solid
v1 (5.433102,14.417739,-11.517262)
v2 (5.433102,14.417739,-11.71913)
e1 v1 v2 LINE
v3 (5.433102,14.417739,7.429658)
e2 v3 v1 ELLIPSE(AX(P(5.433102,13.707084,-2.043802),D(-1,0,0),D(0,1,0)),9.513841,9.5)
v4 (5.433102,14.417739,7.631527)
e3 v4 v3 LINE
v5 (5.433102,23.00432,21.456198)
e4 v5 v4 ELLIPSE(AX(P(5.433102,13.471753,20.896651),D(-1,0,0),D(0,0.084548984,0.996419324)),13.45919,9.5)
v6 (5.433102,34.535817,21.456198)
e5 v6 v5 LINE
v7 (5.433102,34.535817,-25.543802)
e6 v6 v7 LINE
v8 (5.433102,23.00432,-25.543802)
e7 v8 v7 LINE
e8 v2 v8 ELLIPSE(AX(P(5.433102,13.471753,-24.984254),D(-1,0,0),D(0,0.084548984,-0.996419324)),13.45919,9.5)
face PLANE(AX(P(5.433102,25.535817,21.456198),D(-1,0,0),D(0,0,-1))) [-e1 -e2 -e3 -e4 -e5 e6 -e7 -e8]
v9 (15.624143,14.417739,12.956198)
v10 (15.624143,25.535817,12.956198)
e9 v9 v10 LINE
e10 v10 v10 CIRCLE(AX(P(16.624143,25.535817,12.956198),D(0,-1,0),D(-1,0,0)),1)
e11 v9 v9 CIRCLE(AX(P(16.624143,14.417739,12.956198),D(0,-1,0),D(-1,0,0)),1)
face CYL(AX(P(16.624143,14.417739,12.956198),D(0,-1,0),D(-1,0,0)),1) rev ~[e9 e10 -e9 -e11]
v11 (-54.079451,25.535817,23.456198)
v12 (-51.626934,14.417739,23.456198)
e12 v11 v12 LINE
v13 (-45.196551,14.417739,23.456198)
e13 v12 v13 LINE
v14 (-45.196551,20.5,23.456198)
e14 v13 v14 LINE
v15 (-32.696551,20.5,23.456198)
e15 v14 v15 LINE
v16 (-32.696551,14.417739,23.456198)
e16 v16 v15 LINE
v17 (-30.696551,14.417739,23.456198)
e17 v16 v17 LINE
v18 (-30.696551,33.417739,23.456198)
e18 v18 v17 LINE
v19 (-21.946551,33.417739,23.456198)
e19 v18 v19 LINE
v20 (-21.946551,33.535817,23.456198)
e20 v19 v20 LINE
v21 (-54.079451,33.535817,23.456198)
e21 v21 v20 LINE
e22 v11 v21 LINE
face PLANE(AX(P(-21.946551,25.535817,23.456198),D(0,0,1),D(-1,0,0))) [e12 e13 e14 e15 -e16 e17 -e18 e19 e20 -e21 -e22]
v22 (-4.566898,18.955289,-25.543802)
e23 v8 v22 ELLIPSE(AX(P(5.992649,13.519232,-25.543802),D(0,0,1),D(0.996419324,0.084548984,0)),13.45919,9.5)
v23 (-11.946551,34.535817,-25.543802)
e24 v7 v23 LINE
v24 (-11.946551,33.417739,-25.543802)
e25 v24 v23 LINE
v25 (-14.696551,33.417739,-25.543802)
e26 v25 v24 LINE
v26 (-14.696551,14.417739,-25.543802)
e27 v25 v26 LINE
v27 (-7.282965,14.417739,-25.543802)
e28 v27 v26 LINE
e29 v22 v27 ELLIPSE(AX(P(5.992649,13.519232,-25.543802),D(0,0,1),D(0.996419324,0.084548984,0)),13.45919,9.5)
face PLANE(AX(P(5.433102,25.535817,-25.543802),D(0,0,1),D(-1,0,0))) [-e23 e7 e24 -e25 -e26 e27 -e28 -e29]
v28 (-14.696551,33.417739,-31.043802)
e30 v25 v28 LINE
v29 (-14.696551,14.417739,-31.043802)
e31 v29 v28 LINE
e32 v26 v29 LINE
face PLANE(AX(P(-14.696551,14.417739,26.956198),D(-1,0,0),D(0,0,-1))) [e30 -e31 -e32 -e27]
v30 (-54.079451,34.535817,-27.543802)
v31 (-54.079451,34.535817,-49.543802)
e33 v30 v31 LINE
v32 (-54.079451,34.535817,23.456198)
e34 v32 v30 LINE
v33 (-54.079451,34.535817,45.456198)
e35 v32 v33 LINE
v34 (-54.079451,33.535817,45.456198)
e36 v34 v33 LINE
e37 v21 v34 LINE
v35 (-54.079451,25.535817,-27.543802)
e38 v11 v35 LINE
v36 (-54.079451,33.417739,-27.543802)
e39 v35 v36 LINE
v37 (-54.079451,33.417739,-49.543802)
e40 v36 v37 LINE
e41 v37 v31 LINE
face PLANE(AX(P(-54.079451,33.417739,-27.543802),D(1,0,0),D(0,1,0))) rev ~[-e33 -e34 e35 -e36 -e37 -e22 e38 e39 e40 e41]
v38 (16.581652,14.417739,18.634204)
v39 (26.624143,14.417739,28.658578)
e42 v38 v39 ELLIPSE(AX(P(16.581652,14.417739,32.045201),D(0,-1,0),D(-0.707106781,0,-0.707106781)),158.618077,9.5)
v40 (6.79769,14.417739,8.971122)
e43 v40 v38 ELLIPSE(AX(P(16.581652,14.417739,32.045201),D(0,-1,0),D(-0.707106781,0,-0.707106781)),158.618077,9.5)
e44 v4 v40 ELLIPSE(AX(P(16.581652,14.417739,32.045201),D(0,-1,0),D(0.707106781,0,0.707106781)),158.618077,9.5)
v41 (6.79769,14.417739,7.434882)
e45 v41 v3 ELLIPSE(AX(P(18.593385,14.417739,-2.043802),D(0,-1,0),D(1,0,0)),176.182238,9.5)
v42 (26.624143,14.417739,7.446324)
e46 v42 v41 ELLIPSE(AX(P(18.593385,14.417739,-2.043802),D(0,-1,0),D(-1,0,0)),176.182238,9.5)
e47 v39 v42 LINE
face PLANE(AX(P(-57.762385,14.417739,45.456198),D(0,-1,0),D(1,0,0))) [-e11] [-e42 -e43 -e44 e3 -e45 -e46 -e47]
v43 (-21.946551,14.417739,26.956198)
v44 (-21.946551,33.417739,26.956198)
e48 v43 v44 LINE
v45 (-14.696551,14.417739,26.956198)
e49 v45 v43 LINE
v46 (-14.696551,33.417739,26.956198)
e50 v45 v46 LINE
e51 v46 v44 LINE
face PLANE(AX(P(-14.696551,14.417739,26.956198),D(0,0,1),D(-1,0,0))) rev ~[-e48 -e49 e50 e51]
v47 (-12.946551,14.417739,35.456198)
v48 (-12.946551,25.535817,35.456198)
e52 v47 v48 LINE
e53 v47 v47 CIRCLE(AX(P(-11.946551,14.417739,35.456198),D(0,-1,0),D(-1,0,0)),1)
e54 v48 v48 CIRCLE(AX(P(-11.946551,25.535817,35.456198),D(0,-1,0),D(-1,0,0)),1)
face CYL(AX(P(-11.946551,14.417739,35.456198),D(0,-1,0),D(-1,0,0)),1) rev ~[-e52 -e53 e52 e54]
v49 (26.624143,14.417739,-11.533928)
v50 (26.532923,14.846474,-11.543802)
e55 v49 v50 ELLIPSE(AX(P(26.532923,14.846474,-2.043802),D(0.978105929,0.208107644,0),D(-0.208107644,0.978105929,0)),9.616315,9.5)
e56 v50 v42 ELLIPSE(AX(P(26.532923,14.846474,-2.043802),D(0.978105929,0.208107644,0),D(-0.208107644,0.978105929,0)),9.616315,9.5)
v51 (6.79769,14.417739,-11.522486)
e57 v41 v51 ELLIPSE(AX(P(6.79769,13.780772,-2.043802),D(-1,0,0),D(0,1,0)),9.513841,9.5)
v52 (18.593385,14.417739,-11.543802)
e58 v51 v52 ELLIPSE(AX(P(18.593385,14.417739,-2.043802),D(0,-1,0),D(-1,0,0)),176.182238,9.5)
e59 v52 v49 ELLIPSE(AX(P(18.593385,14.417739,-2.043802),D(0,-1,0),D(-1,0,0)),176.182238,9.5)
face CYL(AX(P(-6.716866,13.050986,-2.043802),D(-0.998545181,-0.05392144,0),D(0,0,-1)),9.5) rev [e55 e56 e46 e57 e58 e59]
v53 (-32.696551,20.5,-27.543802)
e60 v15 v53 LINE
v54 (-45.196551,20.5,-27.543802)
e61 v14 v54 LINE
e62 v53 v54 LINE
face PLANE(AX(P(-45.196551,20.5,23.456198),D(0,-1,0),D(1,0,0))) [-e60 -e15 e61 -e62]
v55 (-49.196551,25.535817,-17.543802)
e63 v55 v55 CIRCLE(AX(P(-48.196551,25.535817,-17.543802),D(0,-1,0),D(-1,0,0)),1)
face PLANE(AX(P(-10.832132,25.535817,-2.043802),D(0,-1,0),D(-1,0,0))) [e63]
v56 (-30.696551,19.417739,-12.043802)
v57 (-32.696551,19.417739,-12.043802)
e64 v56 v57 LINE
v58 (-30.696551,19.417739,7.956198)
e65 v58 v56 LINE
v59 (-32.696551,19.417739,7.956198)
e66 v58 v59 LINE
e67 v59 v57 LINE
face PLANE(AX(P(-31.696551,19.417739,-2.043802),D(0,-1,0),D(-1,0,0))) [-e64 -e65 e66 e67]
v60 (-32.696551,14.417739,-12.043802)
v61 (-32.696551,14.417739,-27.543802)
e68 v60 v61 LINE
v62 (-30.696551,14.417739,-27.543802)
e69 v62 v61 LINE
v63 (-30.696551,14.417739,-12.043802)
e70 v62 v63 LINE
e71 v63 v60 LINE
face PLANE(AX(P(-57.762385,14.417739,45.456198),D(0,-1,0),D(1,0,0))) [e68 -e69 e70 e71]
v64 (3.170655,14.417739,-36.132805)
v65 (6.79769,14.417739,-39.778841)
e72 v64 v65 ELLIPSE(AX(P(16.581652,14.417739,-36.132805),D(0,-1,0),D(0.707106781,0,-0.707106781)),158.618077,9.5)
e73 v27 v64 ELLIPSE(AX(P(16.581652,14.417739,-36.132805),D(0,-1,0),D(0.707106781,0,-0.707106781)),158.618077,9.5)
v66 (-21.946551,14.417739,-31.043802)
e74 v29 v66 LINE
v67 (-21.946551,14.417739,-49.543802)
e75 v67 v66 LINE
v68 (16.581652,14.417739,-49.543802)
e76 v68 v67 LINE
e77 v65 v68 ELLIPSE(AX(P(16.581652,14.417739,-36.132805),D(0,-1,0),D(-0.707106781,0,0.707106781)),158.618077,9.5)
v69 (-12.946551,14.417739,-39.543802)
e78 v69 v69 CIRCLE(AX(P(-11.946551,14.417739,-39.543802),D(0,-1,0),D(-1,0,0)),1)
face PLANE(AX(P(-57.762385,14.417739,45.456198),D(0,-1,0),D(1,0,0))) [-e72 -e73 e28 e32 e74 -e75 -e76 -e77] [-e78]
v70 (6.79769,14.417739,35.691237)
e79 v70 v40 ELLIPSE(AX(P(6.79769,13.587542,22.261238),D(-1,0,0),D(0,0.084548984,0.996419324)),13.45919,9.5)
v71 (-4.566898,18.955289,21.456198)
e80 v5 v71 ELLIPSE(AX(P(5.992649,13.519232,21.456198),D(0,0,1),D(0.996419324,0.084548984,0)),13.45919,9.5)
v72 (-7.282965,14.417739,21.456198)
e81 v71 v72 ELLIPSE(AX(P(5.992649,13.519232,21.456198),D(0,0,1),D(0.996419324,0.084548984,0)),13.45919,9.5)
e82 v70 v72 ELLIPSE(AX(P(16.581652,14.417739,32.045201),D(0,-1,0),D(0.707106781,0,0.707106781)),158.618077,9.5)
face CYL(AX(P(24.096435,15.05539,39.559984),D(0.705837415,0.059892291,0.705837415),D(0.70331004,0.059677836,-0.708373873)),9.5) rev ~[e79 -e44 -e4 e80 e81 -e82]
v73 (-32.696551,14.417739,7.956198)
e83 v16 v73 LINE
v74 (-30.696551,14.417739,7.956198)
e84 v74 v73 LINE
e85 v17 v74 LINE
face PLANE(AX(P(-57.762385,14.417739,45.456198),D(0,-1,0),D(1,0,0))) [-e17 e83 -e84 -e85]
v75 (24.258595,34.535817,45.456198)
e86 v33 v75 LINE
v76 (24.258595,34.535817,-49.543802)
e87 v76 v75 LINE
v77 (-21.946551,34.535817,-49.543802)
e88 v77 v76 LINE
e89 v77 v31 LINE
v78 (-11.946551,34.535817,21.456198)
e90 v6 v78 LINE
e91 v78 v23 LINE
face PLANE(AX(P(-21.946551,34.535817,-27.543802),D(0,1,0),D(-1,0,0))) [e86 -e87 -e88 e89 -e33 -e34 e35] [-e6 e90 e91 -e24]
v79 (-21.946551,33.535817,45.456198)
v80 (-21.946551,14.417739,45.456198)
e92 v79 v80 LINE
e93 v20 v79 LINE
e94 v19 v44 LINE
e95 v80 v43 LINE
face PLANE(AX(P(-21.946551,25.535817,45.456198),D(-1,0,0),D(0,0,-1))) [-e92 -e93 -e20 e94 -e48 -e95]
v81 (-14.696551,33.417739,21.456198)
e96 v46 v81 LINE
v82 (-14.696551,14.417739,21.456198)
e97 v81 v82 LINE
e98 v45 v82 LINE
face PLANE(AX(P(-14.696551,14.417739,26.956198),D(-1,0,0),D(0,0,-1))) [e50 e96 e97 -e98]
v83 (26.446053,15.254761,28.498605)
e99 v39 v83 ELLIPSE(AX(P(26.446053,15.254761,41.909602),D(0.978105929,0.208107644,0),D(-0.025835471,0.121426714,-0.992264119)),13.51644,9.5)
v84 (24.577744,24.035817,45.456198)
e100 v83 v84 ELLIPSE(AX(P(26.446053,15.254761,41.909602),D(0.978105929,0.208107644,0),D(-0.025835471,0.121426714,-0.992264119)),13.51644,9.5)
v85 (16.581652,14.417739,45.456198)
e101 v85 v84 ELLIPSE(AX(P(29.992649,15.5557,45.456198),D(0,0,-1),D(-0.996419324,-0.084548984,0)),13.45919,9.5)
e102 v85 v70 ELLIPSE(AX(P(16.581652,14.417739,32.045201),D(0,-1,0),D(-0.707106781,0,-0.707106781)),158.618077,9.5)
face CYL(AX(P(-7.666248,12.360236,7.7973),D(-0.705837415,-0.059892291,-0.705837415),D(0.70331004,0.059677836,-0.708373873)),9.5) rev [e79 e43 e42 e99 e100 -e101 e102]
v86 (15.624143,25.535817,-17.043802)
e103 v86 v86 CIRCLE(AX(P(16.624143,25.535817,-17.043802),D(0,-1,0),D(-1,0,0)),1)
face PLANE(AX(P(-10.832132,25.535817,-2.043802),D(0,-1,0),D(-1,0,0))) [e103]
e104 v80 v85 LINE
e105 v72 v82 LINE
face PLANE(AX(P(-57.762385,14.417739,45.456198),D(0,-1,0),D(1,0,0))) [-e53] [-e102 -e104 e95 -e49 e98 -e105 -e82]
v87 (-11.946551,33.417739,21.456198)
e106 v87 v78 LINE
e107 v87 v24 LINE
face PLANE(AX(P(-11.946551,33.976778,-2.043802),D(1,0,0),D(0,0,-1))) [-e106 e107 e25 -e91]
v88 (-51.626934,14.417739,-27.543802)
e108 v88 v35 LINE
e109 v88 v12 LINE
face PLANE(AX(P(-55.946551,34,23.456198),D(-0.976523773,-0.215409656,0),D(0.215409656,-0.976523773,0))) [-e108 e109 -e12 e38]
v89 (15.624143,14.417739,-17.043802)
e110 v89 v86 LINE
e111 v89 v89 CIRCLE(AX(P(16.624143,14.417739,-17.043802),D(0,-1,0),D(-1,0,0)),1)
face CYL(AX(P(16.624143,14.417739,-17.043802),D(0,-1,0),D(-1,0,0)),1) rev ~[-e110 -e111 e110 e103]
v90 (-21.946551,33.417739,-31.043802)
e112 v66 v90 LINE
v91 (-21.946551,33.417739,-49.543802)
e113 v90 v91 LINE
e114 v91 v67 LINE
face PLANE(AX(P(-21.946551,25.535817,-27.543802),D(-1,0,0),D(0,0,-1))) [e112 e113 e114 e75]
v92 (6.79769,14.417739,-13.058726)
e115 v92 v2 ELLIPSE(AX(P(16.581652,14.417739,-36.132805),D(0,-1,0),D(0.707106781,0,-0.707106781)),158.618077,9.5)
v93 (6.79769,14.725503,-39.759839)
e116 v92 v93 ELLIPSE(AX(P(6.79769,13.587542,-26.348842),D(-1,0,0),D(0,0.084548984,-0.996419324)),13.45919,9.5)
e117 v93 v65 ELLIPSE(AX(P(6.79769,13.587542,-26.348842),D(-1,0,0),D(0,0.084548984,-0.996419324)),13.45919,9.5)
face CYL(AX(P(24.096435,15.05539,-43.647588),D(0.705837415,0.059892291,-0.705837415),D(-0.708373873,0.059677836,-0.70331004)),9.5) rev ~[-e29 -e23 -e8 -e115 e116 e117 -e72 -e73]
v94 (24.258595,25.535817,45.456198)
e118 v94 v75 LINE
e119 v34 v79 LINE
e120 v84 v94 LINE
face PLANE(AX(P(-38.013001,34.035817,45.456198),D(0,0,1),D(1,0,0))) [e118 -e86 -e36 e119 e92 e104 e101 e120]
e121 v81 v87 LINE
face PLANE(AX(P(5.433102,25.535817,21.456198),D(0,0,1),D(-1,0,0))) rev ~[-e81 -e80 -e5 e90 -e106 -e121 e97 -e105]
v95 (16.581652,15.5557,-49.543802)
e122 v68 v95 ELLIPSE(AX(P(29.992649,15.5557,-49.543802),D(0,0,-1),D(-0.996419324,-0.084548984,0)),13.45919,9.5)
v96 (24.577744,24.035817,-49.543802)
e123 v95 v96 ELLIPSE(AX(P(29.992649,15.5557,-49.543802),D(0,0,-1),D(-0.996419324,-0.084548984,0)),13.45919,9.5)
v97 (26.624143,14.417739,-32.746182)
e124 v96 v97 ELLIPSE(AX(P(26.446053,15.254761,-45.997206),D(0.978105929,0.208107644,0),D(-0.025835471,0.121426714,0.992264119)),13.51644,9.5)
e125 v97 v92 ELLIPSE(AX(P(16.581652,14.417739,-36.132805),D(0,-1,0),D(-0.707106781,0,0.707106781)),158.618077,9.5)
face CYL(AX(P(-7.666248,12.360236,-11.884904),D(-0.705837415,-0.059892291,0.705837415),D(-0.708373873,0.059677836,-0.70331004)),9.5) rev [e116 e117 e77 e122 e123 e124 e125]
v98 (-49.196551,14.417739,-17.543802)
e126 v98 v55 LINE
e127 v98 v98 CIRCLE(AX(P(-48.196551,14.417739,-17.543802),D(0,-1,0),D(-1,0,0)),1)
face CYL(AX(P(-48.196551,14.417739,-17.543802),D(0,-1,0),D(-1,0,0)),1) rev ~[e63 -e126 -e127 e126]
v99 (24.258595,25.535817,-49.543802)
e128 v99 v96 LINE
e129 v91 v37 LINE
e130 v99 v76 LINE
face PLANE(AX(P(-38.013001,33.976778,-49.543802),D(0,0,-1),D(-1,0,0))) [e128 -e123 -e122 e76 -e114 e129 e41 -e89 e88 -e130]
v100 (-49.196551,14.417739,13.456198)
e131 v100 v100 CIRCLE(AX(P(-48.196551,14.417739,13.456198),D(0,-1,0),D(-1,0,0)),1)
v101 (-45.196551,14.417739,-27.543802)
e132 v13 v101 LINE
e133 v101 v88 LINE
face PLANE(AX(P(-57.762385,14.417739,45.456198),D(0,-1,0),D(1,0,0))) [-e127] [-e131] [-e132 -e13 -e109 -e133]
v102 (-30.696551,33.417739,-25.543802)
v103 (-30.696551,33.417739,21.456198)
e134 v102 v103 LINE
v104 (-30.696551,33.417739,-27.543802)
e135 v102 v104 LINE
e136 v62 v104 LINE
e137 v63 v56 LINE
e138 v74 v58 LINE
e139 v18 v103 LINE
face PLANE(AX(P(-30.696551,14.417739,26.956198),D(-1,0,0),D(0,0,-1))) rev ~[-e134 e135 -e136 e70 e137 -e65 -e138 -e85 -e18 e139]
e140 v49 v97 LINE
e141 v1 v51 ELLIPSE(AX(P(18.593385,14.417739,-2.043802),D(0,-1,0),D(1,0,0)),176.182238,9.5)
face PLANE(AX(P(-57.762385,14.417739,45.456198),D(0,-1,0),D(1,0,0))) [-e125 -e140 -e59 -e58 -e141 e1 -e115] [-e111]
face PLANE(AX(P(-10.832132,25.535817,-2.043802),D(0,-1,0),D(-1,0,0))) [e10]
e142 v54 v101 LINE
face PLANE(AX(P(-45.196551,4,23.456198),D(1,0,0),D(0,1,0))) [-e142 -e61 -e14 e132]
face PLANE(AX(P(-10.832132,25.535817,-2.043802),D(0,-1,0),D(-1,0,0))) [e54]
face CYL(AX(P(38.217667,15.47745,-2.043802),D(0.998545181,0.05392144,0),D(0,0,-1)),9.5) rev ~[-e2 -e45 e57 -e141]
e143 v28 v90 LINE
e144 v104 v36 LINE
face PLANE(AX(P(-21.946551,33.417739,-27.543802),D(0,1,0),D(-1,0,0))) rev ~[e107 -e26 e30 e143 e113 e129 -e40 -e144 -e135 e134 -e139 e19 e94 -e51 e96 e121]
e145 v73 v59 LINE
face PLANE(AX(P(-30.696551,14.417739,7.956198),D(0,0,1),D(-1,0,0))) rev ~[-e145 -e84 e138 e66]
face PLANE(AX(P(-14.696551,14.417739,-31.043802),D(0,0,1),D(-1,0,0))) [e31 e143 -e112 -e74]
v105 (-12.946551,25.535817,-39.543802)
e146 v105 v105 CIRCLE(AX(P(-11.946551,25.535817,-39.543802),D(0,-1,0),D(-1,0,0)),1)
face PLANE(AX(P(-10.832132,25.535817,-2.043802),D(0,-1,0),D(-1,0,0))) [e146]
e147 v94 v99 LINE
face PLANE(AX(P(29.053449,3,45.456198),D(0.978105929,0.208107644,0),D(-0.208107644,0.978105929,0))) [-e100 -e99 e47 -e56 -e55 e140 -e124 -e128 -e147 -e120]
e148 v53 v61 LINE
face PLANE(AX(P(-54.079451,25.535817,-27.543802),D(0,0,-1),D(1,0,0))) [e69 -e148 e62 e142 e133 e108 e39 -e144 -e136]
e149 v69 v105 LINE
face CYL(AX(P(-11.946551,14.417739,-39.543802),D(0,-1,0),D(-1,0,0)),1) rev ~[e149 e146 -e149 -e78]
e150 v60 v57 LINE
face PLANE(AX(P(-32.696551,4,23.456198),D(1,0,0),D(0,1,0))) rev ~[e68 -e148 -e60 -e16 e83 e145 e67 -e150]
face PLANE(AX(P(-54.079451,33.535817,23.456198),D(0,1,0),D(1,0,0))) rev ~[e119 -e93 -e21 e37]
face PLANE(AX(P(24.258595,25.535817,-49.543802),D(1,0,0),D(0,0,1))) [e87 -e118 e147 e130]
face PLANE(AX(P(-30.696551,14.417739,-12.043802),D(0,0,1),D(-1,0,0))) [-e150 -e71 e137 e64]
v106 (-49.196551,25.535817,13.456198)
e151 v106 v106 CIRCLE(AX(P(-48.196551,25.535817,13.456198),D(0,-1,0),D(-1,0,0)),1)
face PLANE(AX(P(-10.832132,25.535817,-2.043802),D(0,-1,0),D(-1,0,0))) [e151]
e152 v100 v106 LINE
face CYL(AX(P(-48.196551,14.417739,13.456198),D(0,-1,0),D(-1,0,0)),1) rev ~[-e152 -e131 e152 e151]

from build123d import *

# Parameters (mm, degrees)
SKETCH1_W           = 95
SKETCH1_H           = 95
BOSS_EXTRUDE1_DEPTH = 50
CUT_EXTRUDE1_DEPTH  = 100
SKETCH3_R           = 9.5
CUT_EXTRUDE2_DEPTH  = 45
CUT_EXTRUDE4_DEPTH  = 45
CUT_EXTRUDE5_DEPTH  = 45
CUT_EXTRUDE6_DEPTH  = 45
CUT_EXTRUDE7_DEPTH  = 45
SKETCH9_R           = 9.5
CUT_EXTRUDE9_DEPTH  = 45
SKETCH11_R          = 9.5
CUT_EXTRUDE10_DEPTH = 45
SKETCH12_W          = 31.985759797
SKETCH12_H          = 95
BOSS_EXTRUDE2_DEPTH = 45
CUT_EXTRUDE11_DEPTH = 100
SKETCH14_R          = 9.5
CUT_EXTRUDE12_DEPTH = 100
SKETCH15_R          = 9.5
CUT_EXTRUDE13_DEPTH = 100
SKETCH16_R          = 9.5
CUT_EXTRUDE14_DEPTH = 100
FILLET2_R           = 4
SKETCH17_W          = 34
SKETCH17_H          = 34
CUT_EXTRUDE16_DEPTH = 22
SKETCH19_W          = 34
SKETCH19_H          = 34
CUT_EXTRUDE17_DEPTH = 22
SKETCH20_W          = 12.5
SKETCH20_H          = 16.5
CUT_EXTRUDE18_DEPTH = 60
CUT_EXTRUDE19_DEPTH = 60
SKETCH22_W          = 99.816433395
SKETCH22_H          = 26.367590903
CUT_EXTRUDE21_DEPTH = 100
SKETCH23_R          = 1
CUT_EXTRUDE24_DEPTH = 909
SKETCH25_R          = 1
CUT_EXTRUDE25_DEPTH = 789
SKETCH27_W          = 26.129652456
SKETCH27_H          = 47
CUT_EXTRUDE27_DEPTH = 9
SKETCH28_W          = 2
SKETCH28_H          = 20
CUT_EXTRUDE28_DEPTH = 5
SKETCH29_W          = 99.017305209
SKETCH29_H          = 17.897343585
CUT_EXTRUDE29_DEPTH = 447
CUT_EXTRUDE30_DEPTH = 447
SKETCH31_W          = 26.129652456
SKETCH31_H          = 47
CUT_EXTRUDE31_DEPTH = 447
SKETCH32_W          = 12.716067022
SKETCH32_H          = 47
CUT_EXTRUDE32_DEPTH = 90
BOSS_EXTRUDE4_DEPTH = 9
SKETCH37_W          = 36.129652456
SKETCH37_H          = 47
CUT_EXTRUDE34_DEPTH = 9
SKETCH38_W          = 16
SKETCH38_H          = 58
CUT_EXTRUDE36_DEPTH = 19
SKETCH40_W          = 8.75
SKETCH40_H          = 1.118077743
BOSS_EXTRUDE5_DEPTH = 48
SKETCH41_W          = 47
SKETCH41_H          = 1.118077743
BOSS_EXTRUDE6_DEPTH = 10
SKETCH42_W          = 32.132900769
SKETCH42_H          = 1
BOSS_EXTRUDE7_DEPTH = 22
SKETCH43_W          = 32.132900769
SKETCH43_H          = 1.118077743
BOSS_EXTRUDE8_DEPTH = 22


with BuildPart() as part:
    # Sketch1 → Boss-Extrude1 (new body)
    with BuildSketch(Plane(origin=(0, 0, 0), x_dir=(1, 0, 0), z_dir=(0, 1, 0))):
        with Locations((-8.446550514, 2.043801884)):
            Rectangle(SKETCH1_W, SKETCH1_H)
    extrude(amount=BOSS_EXTRUDE1_DEPTH)

    # Sketch2 → Cut-Extrude1 (cut)
    with BuildSketch(Plane.XY.offset(45.456198116)):
        Polygon((39.053449486, 0), (36.353449486, 50), (39.053449486, 50), align=None)
    extrude(amount=-CUT_EXTRUDE1_DEPTH, mode=Mode.SUBTRACT)

    # Sketch3 → Cut-Extrude2 (cut)
    with BuildSketch(Plane(origin=(38.939900735, 2.10275464, 0), x_dir=(0, 0, -1), z_dir=(0.998545181, 0.05392144, 0))):
        with Locations((2.043801884, 13.394181776)):
            Circle(SKETCH3_R)
    extrude(amount=-CUT_EXTRUDE2_DEPTH, mode=Mode.SUBTRACT)

    # Sketch5 → Cut-Extrude4 (cut)
    with BuildSketch(Plane(origin=(0, 50, 0), x_dir=(1, 0, 0), z_dir=(0, 1, 0))):
        Polygon((39.053449486, 49.543801884), (39.053449486, 29.543801884), (19.053449486, 49.543801884), align=None)
        Polygon((39.053449486, -45.456198116), (39.053449486, -25.456198116), (19.053449486, -45.456198116), align=None)
    extrude(amount=-CUT_EXTRUDE4_DEPTH, mode=Mode.SUBTRACT)

    # Sketch6 → Cut-Extrude5 (cut)
    with BuildSketch(Plane(origin=(0, 50, 0), x_dir=(1, 0, 0), z_dir=(0, 1, 0))):
        Polygon((19.053449486, -45.456198116), (12.925569587, -39.328318218), (6.797689689, -45.456198116), align=None)
        Polygon((19.053449486, 49.543801884), (12.925569587, 43.415921985), (6.797689689, 49.543801884), align=None)
    extrude(amount=-CUT_EXTRUDE5_DEPTH, mode=Mode.SUBTRACT)

    # Sketch7 → Cut-Extrude6 (cut)
    with BuildSketch(Plane(origin=(-13.201374315, 0, 13.201374315), x_dir=(0.707106781, 0, 0.707106781), z_dir=(-0.707106781, 0, 0.707106781))):
        Polygon((45.615209271, 5), (42.915209271, 50), (45.615209271, 50), align=None)
    extrude(amount=-CUT_EXTRUDE6_DEPTH, mode=Mode.SUBTRACT)

    # Sketch8 → Cut-Extrude7 (cut)
    with BuildSketch(Plane(origin=(-15.245176199, 0, -15.245176199), x_dir=(-0.707106781, 0, 0.707106781), z_dir=(-0.707106781, 0, -0.707106781))):
        Polygon((-48.505581614, 5), (-45.805581614, 50), (-48.505581614, 50), align=None)
    extrude(amount=-CUT_EXTRUDE7_DEPTH, mode=Mode.SUBTRACT)

    # Sketch9 → Cut-Extrude9 (cut)
    with BuildSketch(Plane(origin=(34.386964646, 2.917830706, -34.386964646), x_dir=(-0.708373873, 0.059677836, -0.70331004), z_dir=(0.705837415, 0.059892291, -0.705837415))):
        with Locations((14.526974541, 11.311121921)):
            Circle(SKETCH9_R)
    extrude(amount=-CUT_EXTRUDE9_DEPTH, mode=Mode.SUBTRACT)

    # Sketch11 → Cut-Extrude10 (cut)
    with BuildSketch(Plane(origin=(32.350494057, 2.745030447, 32.350494057), x_dir=(0.70331004, 0.059677836, -0.708373873), z_dir=(0.705837415, 0.059892291, 0.705837415))):
        with Locations((-10.17752107, 12.964151979)):
            Circle(SKETCH11_R)
    extrude(amount=-CUT_EXTRUDE10_DEPTH, mode=Mode.SUBTRACT)

    # Sketch12 → Boss-Extrude2 (add)
    with BuildSketch(Plane(origin=(0, 5, 0), x_dir=(1, 0, 0), z_dir=(0, 1, 0))):
        with Locations((22.790569588, 2.043801884)):
            Rectangle(SKETCH12_W, SKETCH12_H)
    extrude(amount=BOSS_EXTRUDE2_DEPTH)

    # Sketch13 → Cut-Extrude11 (cut)
    with BuildSketch(Plane.XY.offset(45.456198116)):
        Polygon((39.053449486, 0), (29.053449486, 3), (19.053449486, 50), (49.745275601, 50), align=None)
    extrude(amount=-CUT_EXTRUDE11_DEPTH, mode=Mode.SUBTRACT)

    # Sketch14 → Cut-Extrude12 (cut)
    with BuildSketch(Plane(origin=(-5.994632406, -0.32371015, 0), x_dir=(0, 0, -1), z_dir=(0.998545181, 0.05392144, 0))):
        with Locations((2.043801884, 13.394181776)):
            Circle(SKETCH14_R)
    extrude(amount=CUT_EXTRUDE12_DEPTH, mode=Mode.SUBTRACT)

    # Sketch15 → Cut-Extrude13 (cut)
    with BuildSketch(Plane(origin=(0.587810371, 0.049877364, 0.587810371), x_dir=(0.70331004, 0.059677836, -0.708373873), z_dir=(0.705837415, 0.059892291, 0.705837415))):
        with Locations((-10.17752107, 12.964151979)):
            Circle(SKETCH15_R)
    extrude(amount=CUT_EXTRUDE13_DEPTH, mode=Mode.SUBTRACT)

    # Sketch16 → Cut-Extrude14 (cut)
    with BuildSketch(Plane(origin=(2.62428096, 0.222677624, -2.62428096), x_dir=(-0.708373873, 0.059677836, -0.70331004), z_dir=(0.705837415, 0.059892291, -0.705837415))):
        with Locations((14.526974541, 11.311121921)):
            Circle(SKETCH16_R)
    extrude(amount=CUT_EXTRUDE14_DEPTH, mode=Mode.SUBTRACT)

    # Fillet2
    fillet2_edges = [part.edges().sort_by_distance(p)[0] for p in [
        (29.053449486, 3, -2.043801884),
    ]]
    fillet(fillet2_edges, radius=FILLET2_R)

    # Sketch17 → Cut-Extrude16 (cut)
    with BuildSketch(Plane.XY.offset(45.456198116)):
        with Locations((-38.946550514, 17)):
            Rectangle(SKETCH17_W, SKETCH17_H)
    extrude(amount=-CUT_EXTRUDE16_DEPTH, mode=Mode.SUBTRACT)

    # Sketch19 → Cut-Extrude17 (cut)
    with BuildSketch(Plane(origin=(0, 0, -49.543801884), x_dir=(-1, 0, 0), z_dir=(0, 0, -1))):
        with Locations((38.946550514, 17)):
            Rectangle(SKETCH19_W, SKETCH19_H)
    extrude(amount=-CUT_EXTRUDE17_DEPTH, mode=Mode.SUBTRACT)

    # Sketch20 → Cut-Extrude18 (cut)
    with BuildSketch(Plane.XY.offset(23.456198116)):
        with Locations((-38.946550514, 12.25)):
            Rectangle(SKETCH20_W, SKETCH20_H)
    extrude(amount=-CUT_EXTRUDE18_DEPTH, mode=Mode.SUBTRACT)

    # Sketch21 → Cut-Extrude19 (cut)
    with BuildSketch(Plane.XY.offset(23.456198116)):
        Polygon((-55.946550514, 34), (-48.446550514, 0), (-55.946550514, 0), align=None)
    extrude(amount=-CUT_EXTRUDE19_DEPTH, mode=Mode.SUBTRACT)

    # Sketch22 → Cut-Extrude21 (cut)
    with BuildSketch(Plane.XY.offset(45.456198116)):
        with Locations((-7.85416812, 1.233943624)):
            Rectangle(SKETCH22_W, SKETCH22_H)
    extrude(amount=-CUT_EXTRUDE21_DEPTH, mode=Mode.SUBTRACT)

    # Sketch23 → Cut-Extrude24 (cut)
    with BuildSketch(Plane(origin=(0, 14.417739075, 0), x_dir=(-1, 0, 0), z_dir=(0, -1, 0))):
        with Locations((11.946550514, -35.456198116)):
            Circle(SKETCH23_R)
        with Locations((11.946550514, 39.543801884)):
            Circle(SKETCH23_R)
        with Locations((-16.624143299, -12.956198116)):
            Circle(SKETCH23_R)
        with Locations((-16.624143299, 17.043801884)):
            Circle(SKETCH23_R)
    extrude(amount=-CUT_EXTRUDE24_DEPTH, mode=Mode.SUBTRACT)

    # Sketch25 → Cut-Extrude25 (cut)
    with BuildSketch(Plane(origin=(0, 14.417739075, 0), x_dir=(-1, 0, 0), z_dir=(0, -1, 0))):
        with Locations((48.196550514, -13.456198116)):
            Circle(SKETCH25_R)
        with Locations((48.196550514, 17.543801884)):
            Circle(SKETCH25_R)
    extrude(amount=-CUT_EXTRUDE25_DEPTH, mode=Mode.SUBTRACT)

    # Sketch27 → Cut-Extrude27 (cut)
    with BuildSketch(Plane(origin=(0, 14.417739075, 0), x_dir=(-1, 0, 0), z_dir=(0, -1, 0))):
        with Locations((17.631724286, 2.043801884)):
            Rectangle(SKETCH27_W, SKETCH27_H)
    extrude(amount=-CUT_EXTRUDE27_DEPTH, mode=Mode.SUBTRACT)

    # Sketch28 → Cut-Extrude28 (cut)
    with BuildSketch(Plane(origin=(0, 14.417739075, 0), x_dir=(-1, 0, 0), z_dir=(0, -1, 0))):
        with Locations((31.696550514, 2.043801884)):
            Rectangle(SKETCH28_W, SKETCH28_H)
    extrude(amount=-CUT_EXTRUDE28_DEPTH, mode=Mode.SUBTRACT)

    # Sketch29 → Cut-Extrude29 (cut)
    with BuildSketch(Plane.XY.offset(45.456198116)):
        with Locations((-6.437897909, 42.948671793)):
            Rectangle(SKETCH29_W, SKETCH29_H)
    extrude(amount=-CUT_EXTRUDE29_DEPTH, mode=Mode.SUBTRACT)

    # Sketch30 → Cut-Extrude30 (cut)
    with BuildSketch(Plane.XY.offset(45.456198116)):
        Polygon((24.258594843, 25.535816818), (-54.079451283, 25.535816818), (-55.946550514, 34), (22.457704805, 34), align=None)
    extrude(amount=-CUT_EXTRUDE30_DEPTH, mode=Mode.SUBTRACT)

    # Sketch31 → Cut-Extrude31 (cut)
    with BuildSketch(Plane(origin=(0, 23.417739075, 0), x_dir=(-1, 0, 0), z_dir=(0, -1, 0))):
        with Locations((17.631724286, 2.043801884)):
            Rectangle(SKETCH31_W, SKETCH31_H)
    extrude(amount=-CUT_EXTRUDE31_DEPTH, mode=Mode.SUBTRACT)

    # Sketch32 → Cut-Extrude32 (cut)
    with BuildSketch(Plane(origin=(0, 14.417739075, 0), x_dir=(-1, 0, 0), z_dir=(0, -1, 0))):
        with Locations((0.924931569, 2.043801884)):
            Rectangle(SKETCH32_W, SKETCH32_H)
    extrude(amount=-CUT_EXTRUDE32_DEPTH, mode=Mode.SUBTRACT)

    # Sketch35 → Boss-Extrude4 (add)
    with BuildSketch(Plane(origin=(0, 25.535816818, 0), x_dir=(1, 0, 0), z_dir=(0, 1, 0))):
        Polygon((-54.079451283, 27.543801884), (-21.946550514, 27.543801884), (-21.946550514, 49.543801884), (24.258594843, 49.543801884), (24.258594843, -45.456198116), (-21.946550514, -45.456198116), (-21.946550514, -23.456198116), (-54.079451283, -23.456198116), align=None)
    extrude(amount=BOSS_EXTRUDE4_DEPTH)

    # Sketch37 → Cut-Extrude34 (cut)
    with BuildSketch(Plane(origin=(0, 25.535816818, 0), x_dir=(-1, 0, 0), z_dir=(0, -1, 0))):
        with Locations((12.631724286, 2.043801884)):
            Rectangle(SKETCH37_W, SKETCH37_H)
    extrude(amount=-CUT_EXTRUDE34_DEPTH, mode=Mode.SUBTRACT)

    # Sketch38 → Cut-Extrude36 (cut)
    with BuildSketch(Plane(origin=(0, 14.417739075, 0), x_dir=(-1, 0, 0), z_dir=(0, -1, 0))):
        with Locations((22.696550514, 2.043801884)):
            Rectangle(SKETCH38_W, SKETCH38_H)
    extrude(amount=-CUT_EXTRUDE36_DEPTH, mode=Mode.SUBTRACT)

    # Sketch40 → Boss-Extrude5 (add)
    with BuildSketch(Plane.XY.offset(-25.543801884)):
        with Locations((-26.321550514, 33.976777947)):
            Rectangle(SKETCH40_W, SKETCH40_H)
    extrude(amount=BOSS_EXTRUDE5_DEPTH)

    # Sketch41 → Boss-Extrude6 (add)
    with BuildSketch(Plane(origin=(-21.946550514, 0, 0), x_dir=(0, 0, -1), z_dir=(1, 0, 0))):
        with Locations((2.043801884, 33.976777947)):
            Rectangle(SKETCH41_W, SKETCH41_H)
    extrude(amount=BOSS_EXTRUDE6_DEPTH)

    # Sketch42 → Boss-Extrude7 (add)
    with BuildSketch(Plane.XY.offset(23.456198116)):
        with Locations((-38.013000899, 34.035816818)):
            Rectangle(SKETCH42_W, SKETCH42_H)
    extrude(amount=BOSS_EXTRUDE7_DEPTH)

    # Sketch43 → Boss-Extrude8 (add)
    with BuildSketch(Plane(origin=(0, 0, -27.543801884), x_dir=(-1, 0, 0), z_dir=(0, 0, -1))):
        with Locations((38.013000899, 33.976777947)):
            Rectangle(SKETCH43_W, SKETCH43_H)
    extrude(amount=BOSS_EXTRUDE8_DEPTH)


solid = part.part
